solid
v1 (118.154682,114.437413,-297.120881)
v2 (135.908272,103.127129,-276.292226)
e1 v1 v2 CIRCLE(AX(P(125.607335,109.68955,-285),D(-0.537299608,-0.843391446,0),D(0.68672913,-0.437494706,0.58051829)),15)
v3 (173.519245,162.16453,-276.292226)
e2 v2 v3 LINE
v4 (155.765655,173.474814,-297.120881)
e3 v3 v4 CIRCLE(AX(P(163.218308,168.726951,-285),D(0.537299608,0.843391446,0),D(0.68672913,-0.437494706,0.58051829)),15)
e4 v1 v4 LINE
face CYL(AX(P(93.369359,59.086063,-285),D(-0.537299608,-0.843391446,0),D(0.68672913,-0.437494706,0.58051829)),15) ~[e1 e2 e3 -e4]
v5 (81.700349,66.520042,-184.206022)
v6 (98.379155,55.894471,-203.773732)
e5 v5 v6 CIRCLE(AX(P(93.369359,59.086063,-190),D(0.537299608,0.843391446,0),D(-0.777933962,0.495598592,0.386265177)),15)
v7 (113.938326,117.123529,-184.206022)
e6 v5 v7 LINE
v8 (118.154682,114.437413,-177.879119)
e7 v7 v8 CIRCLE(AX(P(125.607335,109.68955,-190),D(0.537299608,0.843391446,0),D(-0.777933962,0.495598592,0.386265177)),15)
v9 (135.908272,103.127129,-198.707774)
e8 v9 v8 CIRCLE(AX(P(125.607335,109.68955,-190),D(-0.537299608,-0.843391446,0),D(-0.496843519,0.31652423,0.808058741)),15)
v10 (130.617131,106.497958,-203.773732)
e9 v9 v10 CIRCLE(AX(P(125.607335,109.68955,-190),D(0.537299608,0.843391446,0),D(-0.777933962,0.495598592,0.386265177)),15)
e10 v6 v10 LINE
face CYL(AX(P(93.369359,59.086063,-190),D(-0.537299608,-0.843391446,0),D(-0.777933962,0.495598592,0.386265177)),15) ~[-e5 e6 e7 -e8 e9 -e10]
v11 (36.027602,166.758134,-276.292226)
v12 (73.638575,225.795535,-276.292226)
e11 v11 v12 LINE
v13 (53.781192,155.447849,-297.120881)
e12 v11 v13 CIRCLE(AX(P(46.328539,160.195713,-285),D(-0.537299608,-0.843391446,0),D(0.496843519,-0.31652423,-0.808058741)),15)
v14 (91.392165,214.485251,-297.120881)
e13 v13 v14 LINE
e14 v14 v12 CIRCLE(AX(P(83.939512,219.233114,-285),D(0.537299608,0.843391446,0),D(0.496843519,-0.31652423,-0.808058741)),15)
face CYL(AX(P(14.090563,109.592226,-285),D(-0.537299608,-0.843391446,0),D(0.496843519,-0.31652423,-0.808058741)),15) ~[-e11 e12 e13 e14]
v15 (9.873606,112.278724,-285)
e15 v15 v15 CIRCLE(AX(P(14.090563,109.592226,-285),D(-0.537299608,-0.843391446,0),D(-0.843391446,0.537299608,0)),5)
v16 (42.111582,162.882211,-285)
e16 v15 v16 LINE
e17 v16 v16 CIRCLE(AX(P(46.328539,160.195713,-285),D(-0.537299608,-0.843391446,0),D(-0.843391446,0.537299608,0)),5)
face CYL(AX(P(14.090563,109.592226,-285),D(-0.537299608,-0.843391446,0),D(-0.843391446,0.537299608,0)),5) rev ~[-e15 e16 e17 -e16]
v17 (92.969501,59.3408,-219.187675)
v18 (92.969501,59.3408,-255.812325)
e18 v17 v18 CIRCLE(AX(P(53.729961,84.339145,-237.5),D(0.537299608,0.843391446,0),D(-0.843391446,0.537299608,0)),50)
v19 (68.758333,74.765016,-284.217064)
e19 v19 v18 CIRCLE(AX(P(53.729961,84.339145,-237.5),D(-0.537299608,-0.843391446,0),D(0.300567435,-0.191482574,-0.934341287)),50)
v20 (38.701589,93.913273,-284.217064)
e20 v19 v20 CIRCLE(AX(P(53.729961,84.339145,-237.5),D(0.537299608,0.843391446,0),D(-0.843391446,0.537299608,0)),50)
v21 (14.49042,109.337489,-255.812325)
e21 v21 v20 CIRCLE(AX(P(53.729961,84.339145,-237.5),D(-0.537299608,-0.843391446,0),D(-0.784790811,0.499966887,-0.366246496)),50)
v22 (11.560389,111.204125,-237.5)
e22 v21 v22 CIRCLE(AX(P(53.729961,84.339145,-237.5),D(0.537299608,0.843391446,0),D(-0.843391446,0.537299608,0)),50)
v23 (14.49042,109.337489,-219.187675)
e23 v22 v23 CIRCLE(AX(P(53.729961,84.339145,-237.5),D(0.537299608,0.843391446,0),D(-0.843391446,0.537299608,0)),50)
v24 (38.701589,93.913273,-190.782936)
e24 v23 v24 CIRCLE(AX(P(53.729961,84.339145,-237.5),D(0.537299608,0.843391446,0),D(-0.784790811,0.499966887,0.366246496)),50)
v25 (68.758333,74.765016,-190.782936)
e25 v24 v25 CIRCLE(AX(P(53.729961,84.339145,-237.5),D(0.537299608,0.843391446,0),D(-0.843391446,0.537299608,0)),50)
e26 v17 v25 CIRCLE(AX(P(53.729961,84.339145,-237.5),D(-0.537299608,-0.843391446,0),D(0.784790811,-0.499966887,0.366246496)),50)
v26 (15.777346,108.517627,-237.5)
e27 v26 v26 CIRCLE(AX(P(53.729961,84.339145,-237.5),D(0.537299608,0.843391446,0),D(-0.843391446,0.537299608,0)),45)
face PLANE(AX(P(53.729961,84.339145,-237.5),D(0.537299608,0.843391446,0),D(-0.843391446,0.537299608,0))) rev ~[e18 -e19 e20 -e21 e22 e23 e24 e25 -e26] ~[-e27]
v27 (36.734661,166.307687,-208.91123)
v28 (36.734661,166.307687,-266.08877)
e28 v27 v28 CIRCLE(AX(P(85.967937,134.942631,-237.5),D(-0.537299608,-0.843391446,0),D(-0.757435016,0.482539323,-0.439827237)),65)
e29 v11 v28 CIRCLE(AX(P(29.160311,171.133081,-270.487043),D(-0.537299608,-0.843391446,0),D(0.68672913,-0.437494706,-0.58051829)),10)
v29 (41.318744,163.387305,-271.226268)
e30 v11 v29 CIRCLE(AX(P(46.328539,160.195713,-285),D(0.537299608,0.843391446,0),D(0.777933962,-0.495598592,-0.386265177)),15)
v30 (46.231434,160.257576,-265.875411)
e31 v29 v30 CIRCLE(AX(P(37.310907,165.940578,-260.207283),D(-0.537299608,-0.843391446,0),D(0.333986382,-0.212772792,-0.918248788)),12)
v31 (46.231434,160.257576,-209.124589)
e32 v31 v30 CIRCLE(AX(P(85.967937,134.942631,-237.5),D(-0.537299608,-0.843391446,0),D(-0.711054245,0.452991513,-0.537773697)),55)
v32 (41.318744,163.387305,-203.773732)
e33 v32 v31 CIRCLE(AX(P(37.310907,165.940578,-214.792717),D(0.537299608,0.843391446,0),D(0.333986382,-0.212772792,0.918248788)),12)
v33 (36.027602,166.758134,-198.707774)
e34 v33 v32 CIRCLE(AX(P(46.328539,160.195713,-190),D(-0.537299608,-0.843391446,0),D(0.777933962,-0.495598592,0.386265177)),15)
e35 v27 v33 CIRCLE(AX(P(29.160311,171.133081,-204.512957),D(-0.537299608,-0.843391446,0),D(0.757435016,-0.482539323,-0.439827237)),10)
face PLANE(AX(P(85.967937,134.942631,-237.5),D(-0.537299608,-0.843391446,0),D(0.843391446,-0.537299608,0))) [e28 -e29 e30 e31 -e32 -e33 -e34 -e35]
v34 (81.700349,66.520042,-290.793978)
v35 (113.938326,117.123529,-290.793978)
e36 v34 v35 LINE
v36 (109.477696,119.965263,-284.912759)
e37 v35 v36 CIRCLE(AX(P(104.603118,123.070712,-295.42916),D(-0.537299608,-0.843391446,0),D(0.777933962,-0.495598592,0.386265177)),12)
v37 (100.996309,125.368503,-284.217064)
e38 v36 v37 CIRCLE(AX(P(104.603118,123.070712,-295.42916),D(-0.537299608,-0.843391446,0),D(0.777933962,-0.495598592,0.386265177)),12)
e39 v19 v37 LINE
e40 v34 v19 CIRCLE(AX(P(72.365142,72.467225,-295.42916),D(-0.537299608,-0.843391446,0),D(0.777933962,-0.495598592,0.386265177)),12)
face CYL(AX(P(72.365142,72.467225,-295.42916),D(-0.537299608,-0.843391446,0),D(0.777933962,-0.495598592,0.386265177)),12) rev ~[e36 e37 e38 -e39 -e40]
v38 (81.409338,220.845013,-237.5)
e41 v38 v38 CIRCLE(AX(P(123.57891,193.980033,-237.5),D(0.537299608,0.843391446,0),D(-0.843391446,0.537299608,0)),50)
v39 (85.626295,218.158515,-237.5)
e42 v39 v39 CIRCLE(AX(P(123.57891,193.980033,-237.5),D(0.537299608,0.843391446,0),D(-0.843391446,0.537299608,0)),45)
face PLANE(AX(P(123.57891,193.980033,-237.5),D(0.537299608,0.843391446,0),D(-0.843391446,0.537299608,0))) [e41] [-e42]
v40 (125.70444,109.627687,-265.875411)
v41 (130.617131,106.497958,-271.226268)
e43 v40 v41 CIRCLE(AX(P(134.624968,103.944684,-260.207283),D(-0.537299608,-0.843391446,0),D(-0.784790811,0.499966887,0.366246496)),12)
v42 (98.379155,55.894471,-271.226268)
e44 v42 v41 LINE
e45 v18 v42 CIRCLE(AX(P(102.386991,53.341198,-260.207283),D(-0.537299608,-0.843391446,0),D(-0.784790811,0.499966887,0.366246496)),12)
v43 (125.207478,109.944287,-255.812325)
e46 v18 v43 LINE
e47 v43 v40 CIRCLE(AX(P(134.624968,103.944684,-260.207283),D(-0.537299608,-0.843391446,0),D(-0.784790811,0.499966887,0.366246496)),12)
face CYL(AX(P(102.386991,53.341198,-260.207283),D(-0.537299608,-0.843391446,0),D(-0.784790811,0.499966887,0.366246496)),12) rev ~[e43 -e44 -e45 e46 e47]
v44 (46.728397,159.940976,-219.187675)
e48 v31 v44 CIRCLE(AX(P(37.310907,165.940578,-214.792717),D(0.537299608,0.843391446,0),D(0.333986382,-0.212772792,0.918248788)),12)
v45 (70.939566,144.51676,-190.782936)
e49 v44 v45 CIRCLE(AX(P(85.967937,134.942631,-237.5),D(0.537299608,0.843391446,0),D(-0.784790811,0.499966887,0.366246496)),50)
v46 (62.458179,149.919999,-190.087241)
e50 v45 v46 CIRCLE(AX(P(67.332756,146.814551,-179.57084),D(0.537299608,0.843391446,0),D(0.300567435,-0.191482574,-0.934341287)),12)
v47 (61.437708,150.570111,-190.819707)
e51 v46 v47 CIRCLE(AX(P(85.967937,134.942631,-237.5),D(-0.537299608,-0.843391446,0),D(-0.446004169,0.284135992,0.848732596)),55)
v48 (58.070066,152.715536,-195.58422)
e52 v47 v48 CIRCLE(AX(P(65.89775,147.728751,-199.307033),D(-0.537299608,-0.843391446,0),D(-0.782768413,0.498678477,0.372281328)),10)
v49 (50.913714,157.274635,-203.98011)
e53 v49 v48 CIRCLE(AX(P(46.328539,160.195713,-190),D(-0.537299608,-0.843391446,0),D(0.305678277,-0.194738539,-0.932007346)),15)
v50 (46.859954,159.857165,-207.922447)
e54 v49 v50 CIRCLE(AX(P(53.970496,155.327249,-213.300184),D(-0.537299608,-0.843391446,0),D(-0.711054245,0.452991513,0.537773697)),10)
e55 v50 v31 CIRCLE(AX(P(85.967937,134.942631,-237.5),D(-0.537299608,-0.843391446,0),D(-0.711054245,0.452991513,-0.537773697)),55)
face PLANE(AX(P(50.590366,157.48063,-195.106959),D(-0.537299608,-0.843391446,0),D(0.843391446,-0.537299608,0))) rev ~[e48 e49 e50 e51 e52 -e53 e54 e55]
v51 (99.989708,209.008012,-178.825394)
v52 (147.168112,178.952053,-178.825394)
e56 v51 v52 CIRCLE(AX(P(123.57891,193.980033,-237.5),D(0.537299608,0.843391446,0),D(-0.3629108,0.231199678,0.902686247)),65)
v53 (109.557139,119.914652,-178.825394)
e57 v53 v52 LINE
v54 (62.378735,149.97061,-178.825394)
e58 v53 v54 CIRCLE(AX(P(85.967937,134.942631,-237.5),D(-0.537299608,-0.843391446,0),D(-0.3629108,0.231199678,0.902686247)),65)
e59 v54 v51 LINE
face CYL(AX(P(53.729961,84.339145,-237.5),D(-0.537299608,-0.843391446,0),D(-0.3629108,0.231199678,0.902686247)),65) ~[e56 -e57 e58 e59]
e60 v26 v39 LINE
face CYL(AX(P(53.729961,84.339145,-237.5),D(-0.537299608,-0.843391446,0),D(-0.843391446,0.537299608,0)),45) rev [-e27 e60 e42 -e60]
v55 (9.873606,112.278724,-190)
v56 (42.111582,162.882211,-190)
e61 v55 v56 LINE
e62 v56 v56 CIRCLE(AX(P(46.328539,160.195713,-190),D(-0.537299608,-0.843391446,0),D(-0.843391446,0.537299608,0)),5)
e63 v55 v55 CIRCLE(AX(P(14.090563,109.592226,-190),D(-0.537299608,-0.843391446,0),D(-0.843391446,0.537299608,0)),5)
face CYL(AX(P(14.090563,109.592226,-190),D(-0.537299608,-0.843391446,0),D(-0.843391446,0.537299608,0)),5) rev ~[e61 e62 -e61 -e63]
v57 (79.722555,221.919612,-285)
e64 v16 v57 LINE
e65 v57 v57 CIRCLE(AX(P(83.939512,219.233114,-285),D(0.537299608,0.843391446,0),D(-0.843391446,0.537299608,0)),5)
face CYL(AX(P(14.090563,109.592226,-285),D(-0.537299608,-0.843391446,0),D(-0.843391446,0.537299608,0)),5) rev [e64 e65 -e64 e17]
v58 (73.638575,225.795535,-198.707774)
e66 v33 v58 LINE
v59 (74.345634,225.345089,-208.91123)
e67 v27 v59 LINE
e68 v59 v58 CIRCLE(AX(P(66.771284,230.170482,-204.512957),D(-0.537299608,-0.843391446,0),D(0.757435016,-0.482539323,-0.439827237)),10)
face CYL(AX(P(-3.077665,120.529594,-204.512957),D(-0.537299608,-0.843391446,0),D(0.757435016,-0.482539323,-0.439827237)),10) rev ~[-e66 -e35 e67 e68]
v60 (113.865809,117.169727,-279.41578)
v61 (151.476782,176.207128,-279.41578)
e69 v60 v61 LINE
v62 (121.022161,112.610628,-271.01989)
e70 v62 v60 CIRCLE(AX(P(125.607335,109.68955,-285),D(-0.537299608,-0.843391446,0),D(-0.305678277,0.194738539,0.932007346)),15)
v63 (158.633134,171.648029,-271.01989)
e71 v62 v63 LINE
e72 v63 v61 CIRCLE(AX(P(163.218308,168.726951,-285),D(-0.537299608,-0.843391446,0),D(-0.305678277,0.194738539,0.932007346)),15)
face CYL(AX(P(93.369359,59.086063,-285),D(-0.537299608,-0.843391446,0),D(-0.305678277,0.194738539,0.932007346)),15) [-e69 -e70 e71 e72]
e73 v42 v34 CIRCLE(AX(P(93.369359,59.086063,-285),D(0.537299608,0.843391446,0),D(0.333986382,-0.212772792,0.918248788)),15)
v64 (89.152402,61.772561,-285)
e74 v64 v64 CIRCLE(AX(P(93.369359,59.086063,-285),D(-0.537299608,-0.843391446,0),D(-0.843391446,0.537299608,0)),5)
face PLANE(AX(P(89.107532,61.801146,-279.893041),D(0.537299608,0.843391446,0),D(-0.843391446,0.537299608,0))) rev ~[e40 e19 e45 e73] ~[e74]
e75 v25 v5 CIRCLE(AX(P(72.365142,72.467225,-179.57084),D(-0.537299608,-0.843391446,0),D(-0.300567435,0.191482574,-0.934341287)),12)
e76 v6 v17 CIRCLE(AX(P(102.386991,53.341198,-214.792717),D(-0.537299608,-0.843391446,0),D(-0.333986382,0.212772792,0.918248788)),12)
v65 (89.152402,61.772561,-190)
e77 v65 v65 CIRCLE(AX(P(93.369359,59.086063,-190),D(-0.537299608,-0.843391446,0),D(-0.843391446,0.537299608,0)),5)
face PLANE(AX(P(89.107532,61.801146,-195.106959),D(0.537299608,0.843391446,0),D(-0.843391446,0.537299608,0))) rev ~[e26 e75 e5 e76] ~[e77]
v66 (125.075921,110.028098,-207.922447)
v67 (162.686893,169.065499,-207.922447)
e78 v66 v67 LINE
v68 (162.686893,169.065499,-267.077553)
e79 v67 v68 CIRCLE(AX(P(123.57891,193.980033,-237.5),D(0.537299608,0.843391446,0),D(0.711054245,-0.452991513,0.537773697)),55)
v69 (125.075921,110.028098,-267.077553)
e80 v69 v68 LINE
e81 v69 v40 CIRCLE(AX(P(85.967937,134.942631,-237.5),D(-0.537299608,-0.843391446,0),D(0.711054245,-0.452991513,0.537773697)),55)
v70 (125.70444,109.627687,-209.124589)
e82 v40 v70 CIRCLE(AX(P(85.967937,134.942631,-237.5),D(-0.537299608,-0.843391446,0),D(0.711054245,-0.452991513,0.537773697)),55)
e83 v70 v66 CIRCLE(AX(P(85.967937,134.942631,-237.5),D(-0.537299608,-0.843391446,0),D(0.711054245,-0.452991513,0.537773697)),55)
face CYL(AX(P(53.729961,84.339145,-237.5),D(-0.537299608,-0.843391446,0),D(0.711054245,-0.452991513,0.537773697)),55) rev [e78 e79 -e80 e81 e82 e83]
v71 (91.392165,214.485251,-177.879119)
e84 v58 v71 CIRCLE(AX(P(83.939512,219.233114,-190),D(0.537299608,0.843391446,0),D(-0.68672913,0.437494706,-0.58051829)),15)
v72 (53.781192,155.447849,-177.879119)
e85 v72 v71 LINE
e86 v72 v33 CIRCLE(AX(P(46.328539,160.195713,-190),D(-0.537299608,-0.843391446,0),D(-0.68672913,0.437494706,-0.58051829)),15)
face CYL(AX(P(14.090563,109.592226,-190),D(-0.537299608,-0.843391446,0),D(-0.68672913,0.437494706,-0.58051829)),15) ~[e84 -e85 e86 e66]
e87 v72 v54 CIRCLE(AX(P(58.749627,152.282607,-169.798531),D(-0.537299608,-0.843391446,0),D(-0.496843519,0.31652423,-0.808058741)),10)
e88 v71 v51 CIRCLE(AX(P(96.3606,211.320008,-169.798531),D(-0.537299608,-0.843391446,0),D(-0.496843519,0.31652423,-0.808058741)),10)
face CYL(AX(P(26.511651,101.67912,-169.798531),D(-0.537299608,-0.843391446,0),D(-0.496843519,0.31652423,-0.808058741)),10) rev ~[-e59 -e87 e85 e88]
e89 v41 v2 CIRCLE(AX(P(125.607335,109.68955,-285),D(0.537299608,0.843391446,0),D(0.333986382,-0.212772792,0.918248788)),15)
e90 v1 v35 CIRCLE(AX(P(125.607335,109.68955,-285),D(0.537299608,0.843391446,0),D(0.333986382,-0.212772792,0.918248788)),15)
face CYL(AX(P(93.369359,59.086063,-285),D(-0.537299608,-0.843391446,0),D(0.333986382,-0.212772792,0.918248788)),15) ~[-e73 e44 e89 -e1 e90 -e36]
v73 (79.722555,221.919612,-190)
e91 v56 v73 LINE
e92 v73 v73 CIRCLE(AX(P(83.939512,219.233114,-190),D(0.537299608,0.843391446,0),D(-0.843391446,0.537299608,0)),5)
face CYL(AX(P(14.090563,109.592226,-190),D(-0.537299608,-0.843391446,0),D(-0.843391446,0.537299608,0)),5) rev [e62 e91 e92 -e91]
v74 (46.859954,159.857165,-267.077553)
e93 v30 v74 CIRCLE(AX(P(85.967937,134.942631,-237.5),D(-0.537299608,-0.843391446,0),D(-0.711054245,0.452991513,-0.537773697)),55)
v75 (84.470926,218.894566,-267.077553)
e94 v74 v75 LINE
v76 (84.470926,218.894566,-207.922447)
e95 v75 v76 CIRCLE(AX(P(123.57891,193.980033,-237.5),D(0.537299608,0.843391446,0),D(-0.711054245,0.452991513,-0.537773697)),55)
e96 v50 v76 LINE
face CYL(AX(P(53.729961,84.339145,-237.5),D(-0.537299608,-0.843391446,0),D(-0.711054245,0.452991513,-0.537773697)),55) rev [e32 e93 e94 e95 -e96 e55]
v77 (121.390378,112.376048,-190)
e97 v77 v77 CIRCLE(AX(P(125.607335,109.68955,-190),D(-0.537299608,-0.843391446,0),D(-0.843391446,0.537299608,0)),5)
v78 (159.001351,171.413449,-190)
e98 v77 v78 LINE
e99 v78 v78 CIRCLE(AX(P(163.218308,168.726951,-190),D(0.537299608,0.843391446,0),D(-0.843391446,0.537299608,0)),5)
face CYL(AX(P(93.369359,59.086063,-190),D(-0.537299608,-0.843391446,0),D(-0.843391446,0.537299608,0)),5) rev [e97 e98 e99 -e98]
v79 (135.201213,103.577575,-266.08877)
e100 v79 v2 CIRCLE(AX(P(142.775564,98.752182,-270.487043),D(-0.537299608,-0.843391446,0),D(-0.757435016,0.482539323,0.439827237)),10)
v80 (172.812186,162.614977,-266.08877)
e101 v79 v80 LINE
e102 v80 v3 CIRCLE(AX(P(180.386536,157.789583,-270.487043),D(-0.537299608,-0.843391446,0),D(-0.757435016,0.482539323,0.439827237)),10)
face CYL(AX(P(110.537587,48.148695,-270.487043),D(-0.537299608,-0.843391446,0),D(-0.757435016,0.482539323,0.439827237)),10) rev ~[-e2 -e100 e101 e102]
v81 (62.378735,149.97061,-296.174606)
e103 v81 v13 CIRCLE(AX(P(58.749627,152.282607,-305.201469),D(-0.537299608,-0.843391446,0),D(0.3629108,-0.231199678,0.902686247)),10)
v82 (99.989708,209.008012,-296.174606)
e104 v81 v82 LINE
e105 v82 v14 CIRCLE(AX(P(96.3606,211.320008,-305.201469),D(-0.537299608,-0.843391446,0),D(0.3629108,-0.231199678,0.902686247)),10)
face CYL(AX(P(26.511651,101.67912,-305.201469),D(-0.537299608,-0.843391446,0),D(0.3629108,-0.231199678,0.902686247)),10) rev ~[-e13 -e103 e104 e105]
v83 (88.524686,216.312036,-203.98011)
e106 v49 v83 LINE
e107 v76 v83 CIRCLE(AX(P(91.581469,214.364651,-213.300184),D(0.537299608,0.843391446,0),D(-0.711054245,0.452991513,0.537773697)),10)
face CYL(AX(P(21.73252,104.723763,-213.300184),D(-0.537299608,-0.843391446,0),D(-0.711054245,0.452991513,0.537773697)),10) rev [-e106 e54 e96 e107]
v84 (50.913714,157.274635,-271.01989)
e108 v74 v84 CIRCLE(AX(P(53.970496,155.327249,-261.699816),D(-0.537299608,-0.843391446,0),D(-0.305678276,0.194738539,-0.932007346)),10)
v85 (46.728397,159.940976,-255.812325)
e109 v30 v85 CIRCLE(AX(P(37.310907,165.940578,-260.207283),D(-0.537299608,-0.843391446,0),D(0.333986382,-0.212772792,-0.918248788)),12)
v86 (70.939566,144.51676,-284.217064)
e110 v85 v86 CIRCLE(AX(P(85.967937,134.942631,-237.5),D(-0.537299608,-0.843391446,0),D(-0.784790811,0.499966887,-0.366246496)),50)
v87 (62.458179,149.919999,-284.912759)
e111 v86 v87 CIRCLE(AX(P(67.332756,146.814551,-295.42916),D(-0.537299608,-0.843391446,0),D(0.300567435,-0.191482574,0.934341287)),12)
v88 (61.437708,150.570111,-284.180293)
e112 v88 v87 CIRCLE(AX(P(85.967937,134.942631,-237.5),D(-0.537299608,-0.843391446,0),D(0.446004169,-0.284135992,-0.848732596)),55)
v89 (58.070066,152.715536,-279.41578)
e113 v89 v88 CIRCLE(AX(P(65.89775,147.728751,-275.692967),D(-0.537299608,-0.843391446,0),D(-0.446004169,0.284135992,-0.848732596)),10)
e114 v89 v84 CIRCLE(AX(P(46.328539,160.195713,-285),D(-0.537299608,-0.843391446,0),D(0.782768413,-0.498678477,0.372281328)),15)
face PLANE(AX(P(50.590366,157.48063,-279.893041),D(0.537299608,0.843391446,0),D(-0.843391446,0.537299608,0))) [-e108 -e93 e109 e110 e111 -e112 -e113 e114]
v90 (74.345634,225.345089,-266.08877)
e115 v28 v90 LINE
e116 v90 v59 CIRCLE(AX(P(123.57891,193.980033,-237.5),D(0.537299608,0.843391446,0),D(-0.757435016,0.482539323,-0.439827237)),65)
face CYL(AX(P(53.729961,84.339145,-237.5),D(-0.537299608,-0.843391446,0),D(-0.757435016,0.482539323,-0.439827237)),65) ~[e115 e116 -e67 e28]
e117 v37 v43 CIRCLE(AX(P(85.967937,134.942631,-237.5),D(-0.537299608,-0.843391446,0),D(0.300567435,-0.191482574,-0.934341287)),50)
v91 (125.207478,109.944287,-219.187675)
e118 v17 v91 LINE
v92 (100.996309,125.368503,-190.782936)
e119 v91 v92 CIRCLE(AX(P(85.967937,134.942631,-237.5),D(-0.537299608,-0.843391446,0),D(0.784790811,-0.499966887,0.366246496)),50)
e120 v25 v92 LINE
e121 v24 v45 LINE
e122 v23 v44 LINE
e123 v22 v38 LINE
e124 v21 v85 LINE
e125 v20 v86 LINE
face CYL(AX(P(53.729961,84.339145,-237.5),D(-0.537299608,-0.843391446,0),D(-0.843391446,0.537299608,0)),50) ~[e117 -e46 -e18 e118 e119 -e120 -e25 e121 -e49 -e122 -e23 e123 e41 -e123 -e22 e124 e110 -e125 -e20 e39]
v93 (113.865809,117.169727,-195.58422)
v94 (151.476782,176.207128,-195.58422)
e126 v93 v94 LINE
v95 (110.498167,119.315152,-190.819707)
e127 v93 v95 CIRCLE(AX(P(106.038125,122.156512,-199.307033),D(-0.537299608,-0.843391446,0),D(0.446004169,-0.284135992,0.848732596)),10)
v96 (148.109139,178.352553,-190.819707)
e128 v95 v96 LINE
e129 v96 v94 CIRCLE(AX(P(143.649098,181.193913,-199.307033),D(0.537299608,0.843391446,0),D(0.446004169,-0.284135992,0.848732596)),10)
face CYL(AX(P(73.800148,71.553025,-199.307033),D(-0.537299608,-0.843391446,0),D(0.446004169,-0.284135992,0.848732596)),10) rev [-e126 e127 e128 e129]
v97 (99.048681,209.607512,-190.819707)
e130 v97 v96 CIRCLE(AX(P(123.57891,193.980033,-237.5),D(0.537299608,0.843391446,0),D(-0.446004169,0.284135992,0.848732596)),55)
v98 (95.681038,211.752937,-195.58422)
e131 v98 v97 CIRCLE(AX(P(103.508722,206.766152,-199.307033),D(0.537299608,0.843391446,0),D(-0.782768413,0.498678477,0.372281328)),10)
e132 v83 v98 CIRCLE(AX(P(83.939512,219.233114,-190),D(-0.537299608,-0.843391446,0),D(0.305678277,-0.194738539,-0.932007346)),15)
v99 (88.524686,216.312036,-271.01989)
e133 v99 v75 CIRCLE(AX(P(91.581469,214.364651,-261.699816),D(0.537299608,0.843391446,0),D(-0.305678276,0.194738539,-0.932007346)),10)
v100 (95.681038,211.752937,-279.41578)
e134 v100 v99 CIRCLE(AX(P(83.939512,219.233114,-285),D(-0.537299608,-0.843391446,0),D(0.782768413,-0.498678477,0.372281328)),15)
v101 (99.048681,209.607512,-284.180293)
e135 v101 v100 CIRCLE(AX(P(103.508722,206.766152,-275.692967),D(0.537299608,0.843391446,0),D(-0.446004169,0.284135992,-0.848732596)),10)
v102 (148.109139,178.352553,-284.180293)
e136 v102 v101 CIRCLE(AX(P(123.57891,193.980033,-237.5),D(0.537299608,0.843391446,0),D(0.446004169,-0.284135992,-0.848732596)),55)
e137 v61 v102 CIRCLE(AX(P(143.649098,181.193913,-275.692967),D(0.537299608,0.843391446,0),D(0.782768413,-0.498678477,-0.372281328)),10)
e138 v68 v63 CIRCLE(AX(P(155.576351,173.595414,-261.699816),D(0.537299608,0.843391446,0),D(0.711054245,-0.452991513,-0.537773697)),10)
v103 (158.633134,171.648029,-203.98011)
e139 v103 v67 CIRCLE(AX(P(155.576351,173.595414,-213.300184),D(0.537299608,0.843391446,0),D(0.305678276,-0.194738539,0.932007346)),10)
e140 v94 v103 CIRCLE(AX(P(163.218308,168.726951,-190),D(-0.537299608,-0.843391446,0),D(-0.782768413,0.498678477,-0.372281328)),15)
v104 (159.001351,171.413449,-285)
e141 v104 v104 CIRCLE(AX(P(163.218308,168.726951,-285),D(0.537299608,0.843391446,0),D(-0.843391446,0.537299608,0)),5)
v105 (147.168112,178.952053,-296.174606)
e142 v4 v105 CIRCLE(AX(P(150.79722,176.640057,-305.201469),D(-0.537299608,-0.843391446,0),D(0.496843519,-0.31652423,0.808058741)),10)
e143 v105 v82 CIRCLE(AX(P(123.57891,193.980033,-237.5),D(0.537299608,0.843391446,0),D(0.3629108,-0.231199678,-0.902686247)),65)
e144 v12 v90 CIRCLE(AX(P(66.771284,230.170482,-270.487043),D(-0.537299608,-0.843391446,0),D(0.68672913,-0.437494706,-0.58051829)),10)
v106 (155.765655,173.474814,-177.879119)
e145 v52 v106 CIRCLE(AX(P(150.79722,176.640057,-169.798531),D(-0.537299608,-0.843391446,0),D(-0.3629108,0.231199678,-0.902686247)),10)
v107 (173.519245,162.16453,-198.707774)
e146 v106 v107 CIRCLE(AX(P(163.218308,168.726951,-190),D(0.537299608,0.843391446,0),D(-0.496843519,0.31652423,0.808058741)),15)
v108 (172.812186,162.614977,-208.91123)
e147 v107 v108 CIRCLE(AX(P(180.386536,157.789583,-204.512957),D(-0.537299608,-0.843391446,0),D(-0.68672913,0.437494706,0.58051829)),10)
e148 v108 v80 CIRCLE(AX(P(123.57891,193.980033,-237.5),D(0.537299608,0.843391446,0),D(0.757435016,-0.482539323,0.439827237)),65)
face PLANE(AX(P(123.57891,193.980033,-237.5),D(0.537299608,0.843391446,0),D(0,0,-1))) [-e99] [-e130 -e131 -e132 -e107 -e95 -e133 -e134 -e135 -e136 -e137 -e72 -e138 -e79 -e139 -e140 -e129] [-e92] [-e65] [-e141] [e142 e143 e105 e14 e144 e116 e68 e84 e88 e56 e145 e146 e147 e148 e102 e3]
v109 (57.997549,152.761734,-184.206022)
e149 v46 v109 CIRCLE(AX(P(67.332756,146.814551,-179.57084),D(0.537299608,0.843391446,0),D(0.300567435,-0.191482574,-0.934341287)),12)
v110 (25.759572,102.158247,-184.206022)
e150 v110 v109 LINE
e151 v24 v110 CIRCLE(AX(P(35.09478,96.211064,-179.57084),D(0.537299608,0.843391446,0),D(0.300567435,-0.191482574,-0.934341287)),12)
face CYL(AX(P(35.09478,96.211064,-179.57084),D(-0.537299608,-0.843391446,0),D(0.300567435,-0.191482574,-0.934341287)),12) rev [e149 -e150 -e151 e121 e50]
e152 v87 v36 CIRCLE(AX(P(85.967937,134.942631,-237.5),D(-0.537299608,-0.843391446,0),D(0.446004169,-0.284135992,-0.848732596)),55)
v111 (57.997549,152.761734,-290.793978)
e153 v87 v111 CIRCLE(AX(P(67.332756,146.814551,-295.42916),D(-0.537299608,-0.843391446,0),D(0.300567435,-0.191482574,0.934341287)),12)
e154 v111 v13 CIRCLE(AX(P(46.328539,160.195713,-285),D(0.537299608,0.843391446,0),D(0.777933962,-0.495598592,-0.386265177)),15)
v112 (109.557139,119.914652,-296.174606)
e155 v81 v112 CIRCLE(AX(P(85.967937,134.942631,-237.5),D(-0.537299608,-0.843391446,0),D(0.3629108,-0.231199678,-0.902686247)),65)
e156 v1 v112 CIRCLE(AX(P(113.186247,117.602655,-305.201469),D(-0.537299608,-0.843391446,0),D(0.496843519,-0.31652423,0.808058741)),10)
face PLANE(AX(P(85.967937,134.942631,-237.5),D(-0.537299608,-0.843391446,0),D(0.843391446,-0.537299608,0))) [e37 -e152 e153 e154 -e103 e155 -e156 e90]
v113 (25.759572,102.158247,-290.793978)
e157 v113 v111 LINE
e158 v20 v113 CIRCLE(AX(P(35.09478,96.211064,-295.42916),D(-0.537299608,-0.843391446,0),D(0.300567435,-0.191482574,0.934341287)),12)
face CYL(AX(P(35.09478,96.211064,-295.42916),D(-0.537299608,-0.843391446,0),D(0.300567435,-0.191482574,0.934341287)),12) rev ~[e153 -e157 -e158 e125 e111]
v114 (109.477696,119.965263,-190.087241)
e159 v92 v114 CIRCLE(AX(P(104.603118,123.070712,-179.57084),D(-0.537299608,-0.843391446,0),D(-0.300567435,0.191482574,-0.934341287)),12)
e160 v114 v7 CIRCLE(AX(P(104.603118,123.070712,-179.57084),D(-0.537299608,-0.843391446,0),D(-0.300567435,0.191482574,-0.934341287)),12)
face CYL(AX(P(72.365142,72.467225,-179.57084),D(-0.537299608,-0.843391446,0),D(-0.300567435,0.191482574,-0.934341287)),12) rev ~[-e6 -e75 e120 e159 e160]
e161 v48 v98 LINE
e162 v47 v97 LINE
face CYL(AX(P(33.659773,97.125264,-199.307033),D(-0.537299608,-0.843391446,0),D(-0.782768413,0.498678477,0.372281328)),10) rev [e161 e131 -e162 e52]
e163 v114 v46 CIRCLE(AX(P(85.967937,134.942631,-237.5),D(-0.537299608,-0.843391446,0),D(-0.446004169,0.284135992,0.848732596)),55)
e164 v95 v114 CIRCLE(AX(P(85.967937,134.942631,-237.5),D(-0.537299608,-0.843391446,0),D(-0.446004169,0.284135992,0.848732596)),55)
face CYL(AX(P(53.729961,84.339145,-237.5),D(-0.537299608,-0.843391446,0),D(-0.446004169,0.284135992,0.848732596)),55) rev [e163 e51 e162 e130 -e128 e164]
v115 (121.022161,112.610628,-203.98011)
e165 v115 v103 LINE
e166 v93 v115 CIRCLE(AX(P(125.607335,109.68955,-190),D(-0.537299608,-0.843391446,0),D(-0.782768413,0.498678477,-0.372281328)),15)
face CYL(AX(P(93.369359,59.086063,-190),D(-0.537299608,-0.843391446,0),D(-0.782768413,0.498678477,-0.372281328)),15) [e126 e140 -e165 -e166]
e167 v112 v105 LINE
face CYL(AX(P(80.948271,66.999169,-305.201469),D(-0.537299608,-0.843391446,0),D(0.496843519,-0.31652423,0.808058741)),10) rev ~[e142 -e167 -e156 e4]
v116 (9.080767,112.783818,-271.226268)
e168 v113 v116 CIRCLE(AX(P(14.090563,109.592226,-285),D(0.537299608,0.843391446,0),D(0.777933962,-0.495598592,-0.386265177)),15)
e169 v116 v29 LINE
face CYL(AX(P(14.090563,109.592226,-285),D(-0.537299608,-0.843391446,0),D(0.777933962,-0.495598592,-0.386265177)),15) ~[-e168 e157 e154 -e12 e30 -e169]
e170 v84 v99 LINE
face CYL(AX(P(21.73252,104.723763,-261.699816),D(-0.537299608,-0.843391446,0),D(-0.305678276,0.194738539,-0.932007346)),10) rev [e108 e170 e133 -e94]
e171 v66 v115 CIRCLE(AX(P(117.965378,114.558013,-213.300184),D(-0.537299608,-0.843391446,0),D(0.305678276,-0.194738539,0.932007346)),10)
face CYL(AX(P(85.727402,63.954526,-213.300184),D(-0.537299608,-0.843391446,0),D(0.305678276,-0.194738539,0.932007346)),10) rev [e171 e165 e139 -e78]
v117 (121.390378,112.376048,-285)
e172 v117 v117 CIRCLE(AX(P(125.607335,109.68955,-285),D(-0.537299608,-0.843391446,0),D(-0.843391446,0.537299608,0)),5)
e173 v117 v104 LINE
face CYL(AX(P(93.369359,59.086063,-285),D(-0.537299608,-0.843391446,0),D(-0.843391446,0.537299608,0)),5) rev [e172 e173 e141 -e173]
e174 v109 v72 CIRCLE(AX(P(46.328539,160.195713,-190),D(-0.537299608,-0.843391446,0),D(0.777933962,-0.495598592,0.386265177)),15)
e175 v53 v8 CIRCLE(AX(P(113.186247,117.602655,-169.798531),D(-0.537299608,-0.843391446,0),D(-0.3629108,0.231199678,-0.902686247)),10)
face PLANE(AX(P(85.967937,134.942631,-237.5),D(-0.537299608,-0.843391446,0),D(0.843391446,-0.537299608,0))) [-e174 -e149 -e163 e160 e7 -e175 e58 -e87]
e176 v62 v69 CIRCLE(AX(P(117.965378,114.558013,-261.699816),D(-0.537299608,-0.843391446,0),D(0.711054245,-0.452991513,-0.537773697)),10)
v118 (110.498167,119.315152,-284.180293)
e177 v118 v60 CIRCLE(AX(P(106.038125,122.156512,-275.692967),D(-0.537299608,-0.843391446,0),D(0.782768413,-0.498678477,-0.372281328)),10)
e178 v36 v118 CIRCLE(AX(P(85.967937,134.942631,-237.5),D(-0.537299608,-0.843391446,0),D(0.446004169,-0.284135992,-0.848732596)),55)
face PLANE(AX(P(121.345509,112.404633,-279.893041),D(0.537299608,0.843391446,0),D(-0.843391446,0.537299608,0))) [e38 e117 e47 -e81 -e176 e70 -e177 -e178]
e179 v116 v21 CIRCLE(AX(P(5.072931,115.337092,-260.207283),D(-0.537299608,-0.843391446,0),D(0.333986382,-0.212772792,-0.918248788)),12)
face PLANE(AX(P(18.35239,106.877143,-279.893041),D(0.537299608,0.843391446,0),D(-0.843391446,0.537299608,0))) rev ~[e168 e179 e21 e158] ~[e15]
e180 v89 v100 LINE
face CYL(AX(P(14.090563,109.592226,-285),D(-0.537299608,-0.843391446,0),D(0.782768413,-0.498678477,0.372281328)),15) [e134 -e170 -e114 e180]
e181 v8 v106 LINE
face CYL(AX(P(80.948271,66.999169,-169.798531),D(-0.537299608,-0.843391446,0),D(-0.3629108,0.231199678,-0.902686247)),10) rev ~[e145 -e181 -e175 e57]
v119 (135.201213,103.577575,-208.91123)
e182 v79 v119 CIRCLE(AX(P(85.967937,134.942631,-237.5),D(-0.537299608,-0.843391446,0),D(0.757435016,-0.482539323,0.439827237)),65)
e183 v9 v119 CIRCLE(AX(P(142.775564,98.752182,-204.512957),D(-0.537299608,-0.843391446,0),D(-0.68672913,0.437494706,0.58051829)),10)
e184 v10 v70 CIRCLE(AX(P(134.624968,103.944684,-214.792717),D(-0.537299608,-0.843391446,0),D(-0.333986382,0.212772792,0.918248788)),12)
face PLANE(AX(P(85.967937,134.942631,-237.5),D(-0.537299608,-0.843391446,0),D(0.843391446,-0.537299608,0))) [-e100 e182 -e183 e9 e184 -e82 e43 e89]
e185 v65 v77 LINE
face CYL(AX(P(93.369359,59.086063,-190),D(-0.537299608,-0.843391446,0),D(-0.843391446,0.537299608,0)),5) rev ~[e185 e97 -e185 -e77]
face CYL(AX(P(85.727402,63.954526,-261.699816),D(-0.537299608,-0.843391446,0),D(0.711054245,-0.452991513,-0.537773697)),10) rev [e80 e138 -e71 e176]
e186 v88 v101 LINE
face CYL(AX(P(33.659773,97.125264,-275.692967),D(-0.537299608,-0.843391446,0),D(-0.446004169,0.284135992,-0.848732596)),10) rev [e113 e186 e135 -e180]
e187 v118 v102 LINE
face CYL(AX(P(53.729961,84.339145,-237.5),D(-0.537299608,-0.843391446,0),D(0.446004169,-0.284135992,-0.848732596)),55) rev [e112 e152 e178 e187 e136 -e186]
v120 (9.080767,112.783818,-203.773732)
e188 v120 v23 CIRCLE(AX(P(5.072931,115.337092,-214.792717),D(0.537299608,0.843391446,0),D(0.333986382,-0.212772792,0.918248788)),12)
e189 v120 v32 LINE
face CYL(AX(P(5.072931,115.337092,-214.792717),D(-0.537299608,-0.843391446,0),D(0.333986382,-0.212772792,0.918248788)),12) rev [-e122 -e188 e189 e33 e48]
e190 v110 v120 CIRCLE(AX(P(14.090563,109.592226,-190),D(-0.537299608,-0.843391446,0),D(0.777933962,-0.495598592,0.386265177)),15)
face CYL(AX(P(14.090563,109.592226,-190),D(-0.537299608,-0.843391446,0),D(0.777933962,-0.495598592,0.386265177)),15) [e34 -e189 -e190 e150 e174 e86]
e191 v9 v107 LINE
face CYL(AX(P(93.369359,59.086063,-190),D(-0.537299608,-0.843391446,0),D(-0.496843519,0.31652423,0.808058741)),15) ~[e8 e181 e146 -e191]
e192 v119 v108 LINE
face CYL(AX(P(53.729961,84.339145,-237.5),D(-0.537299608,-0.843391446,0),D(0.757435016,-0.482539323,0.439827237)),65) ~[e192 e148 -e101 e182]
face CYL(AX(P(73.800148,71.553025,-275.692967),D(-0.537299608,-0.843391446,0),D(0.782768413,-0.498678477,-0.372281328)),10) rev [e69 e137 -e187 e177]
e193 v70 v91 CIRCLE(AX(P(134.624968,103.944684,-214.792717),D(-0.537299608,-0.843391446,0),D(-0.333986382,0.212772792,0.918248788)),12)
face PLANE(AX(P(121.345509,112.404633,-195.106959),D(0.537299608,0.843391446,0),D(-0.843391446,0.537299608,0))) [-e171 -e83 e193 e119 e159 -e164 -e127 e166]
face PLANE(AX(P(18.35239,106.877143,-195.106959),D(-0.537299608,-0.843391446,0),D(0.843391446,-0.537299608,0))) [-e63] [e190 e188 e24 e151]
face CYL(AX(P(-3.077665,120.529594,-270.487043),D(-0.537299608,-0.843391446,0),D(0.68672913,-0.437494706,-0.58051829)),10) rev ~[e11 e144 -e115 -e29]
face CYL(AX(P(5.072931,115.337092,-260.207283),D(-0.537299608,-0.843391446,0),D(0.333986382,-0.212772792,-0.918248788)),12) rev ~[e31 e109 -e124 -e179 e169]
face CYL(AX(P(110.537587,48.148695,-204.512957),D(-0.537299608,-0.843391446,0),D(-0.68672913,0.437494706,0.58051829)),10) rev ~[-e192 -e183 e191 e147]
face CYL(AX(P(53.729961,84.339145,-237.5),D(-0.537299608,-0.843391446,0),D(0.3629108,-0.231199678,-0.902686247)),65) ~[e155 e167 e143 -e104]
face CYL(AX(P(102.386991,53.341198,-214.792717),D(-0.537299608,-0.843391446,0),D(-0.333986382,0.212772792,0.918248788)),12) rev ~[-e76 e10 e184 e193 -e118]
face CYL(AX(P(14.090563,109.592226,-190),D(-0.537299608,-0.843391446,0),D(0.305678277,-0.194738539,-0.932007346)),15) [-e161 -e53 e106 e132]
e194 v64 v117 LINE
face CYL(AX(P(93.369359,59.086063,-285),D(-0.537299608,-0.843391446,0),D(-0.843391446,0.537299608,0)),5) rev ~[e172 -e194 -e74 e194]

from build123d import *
from build123d.topology import SkipClean

# Parameters (mm, degrees)
BOSS_EXTRUDE1_START   = 100
SKETCH2_R             = 5
BOSS_EXTRUDE1_DEPTH   = 130
SKETCH2_R_2           = 50
SKETCH2_R_3           = 45
BOSS_EXTRUDE1_2_DEPTH = 130
SKETCH3_R             = 100
SKETCH3_R_2           = 50
CUT_EXTRUDE1_DEPTH    = 60
BOSS_EXTRUDE3_START   = 60
SKETCH4_R             = 5
BOSS_EXTRUDE3_DEPTH   = 60


with BuildPart() as part:
    # Sketch2 → Boss-Extrude1 (new body)
    with BuildSketch(Plane(origin=(0, 0, 0), x_dir=(0, 0, -1), z_dir=(0.5372996083468277, 0.8433914458128833, 0)).offset(BOSS_EXTRUDE1_START)):
        with BuildLine():
            ThreePointArc((198.707774346, 59.213708116), (179.337427943, 57.550334456), (177.879118885, 38.163471214))
            ThreePointArc((177.879118885, 38.163471214), (179.755724079, 33.196743881), (178.825393945, 27.96945842))
            ThreePointArc((178.825393945, 27.96945842), (172.5, 0), (178.825393945, -27.96945842))
            ThreePointArc((178.825393945, -27.96945842), (179.755724079, -33.196743881), (177.879118885, -38.163471214))
            ThreePointArc((177.879118885, -38.163471214), (179.337427943, -57.550334456), (198.707774346, -59.213708116))
            ThreePointArc((198.707774346, -59.213708116), (203.694081302, -57.389764479), (208.911229611, -58.375356167))
            ThreePointArc((208.911229611, -58.375356167), (237.5, -65), (266.088770389, -58.375356167))
            ThreePointArc((266.088770389, -58.375356167), (271.305918698, -57.389764479), (276.292225654, -59.213708116))
            ThreePointArc((276.292225654, -59.213708116), (295.662572057, -57.550334456), (297.120881115, -38.163471214))
            ThreePointArc((297.120881115, -38.163471214), (295.244275921, -33.196743881), (296.174606055, -27.96945842))
            ThreePointArc((296.174606055, -27.96945842), (302.5, 0), (296.174606055, 27.96945842))
            ThreePointArc((296.174606055, 27.96945842), (295.244275921, 33.196743881), (297.120881115, 38.163471214))
            ThreePointArc((297.120881115, 38.163471214), (295.662572057, 57.550334456), (276.292225654, 59.213708116))
            ThreePointArc((276.292225654, 59.213708116), (271.305918698, 57.389764479), (266.088770389, 58.375356167))
            ThreePointArc((266.088770389, 58.375356167), (237.5, 65), (208.911229611, 58.375356167))
            ThreePointArc((208.911229611, 58.375356167), (203.694081302, 57.389764479), (198.707774346, 59.213708116))
        make_face()
        with Locations(Location((190, -47, 0), (0, 0, 90))):
            Circle(SKETCH2_R, mode=Mode.SUBTRACT)
        with Locations(Location((285, -47, 0), (0, 0, 90))):
            Circle(SKETCH2_R, mode=Mode.SUBTRACT)
        with Locations(Location((190, 47, 0), (0, 0, 90))):
            Circle(SKETCH2_R, mode=Mode.SUBTRACT)
        with Locations(Location((285, 47, 0), (0, 0, 90))):
            Circle(SKETCH2_R, mode=Mode.SUBTRACT)
        with BuildLine():
            ThreePointArc((195.584219919, 33.078200982), (192.883806526, 31.461344995), (190.819707243, 29.085224223))
            ThreePointArc((190.819707243, 29.085224223), (182.5, 0), (190.819707243, -29.085224223))
            ThreePointArc((190.819707243, -29.085224223), (192.883806526, -31.461344995), (195.584219919, -33.078200982))
            ThreePointArc((195.584219919, -33.078200982), (200.662572057, -36.449665544), (203.980110186, -41.56340923))
            ThreePointArc((203.980110186, -41.56340923), (205.568300645, -44.280780541), (207.922446674, -46.369907691))
            ThreePointArc((207.922446674, -46.369907691), (237.5, -55), (267.077553326, -46.369907691))
            ThreePointArc((267.077553326, -46.369907691), (269.431699355, -44.280780541), (271.019889814, -41.56340923))
            ThreePointArc((271.019889814, -41.56340923), (274.337427943, -36.449665544), (279.415780081, -33.078200982))
            ThreePointArc((279.415780081, -33.078200982), (282.116193474, -31.461344995), (284.180292757, -29.085224223))
            ThreePointArc((284.180292757, -29.085224223), (292.5, 0), (284.180292757, 29.085224223))
            ThreePointArc((284.180292757, 29.085224223), (282.116193474, 31.461344995), (279.415780081, 33.078200982))
            ThreePointArc((279.415780081, 33.078200982), (274.337427943, 36.449665544), (271.019889814, 41.56340923))
            ThreePointArc((271.019889814, 41.56340923), (269.431699355, 44.280780541), (267.077553326, 46.369907691))
            ThreePointArc((267.077553326, 46.369907691), (237.5, 55), (207.922446674, 46.369907691))
            ThreePointArc((207.922446674, 46.369907691), (205.568300645, 44.280780541), (203.980110186, 41.56340923))
            ThreePointArc((203.980110186, 41.56340923), (200.662572057, 36.449665544), (195.584219919, 33.078200982))
        make_face(mode=Mode.SUBTRACT)
    extrude(amount=BOSS_EXTRUDE1_DEPTH)

    # Sketch3 → Cut-Extrude1 (cut)
    with BuildSketch(Plane(origin=(53.729960835, 84.339144581, 0), x_dir=(0.8433914458128833, -0.5372996083468277, 0), z_dir=(-0.5372996083468277, -0.8433914458128833, 0))):
        with Locations((0, -237.5)):
            Circle(SKETCH3_R)
        with Locations(Location((0, -237.5, 0), (0, 0, 180))):
            Circle(SKETCH3_R_2, mode=Mode.SUBTRACT)
    extrude(amount=-CUT_EXTRUDE1_DEPTH, mode=Mode.SUBTRACT)



with BuildPart() as body_2:
    # Sketch2 → Boss-Extrude1 2 (new body)
    with BuildSketch(Plane(origin=(0, 0, 0), x_dir=(0, 0, -1), z_dir=(0.5372996083468277, 0.8433914458128833, 0)).offset(BOSS_EXTRUDE1_START)):
        with Locations(Location((237.5, 0, 0), (0, 0, 90))):
            Circle(SKETCH2_R_2)
        with Locations(Location((237.5, 0, 0), (0, 0, 90))):
            Circle(SKETCH2_R_3, mode=Mode.SUBTRACT)
    extrude(amount=BOSS_EXTRUDE1_2_DEPTH)


with BuildPart() as part_1:
    with SkipClean():  # the faces are left unmerged after this step: merging them gives an invalid solid
        add(part.part)

        add(body_2.part)  # Boss-Extrude3 merges body 2
        # Sketch4 → Boss-Extrude3 (add)
        # profile 1 of 4: a face of its own
        with BuildSketch(Plane(origin=(85.967937335, 134.94263133, 0), x_dir=(0.8433914458128833, -0.5372996083468277, 0), z_dir=(-0.5372996083468277, -0.8433914458128833, 0)).offset(BOSS_EXTRUDE3_START)):
            with BuildLine():
                ThreePointArc((-33.164183333, -184.206022338), (-57.550334456, -179.337427943), (-52.940059929, -203.773731813))
                ThreePointArc((-52.940059929, -203.773731813), (-46.613065404, -210.182422478), (-46.525893445, -219.187675212))
                ThreePointArc((-46.525893445, -219.187675212), (-35.16778152, -201.958093144), (-17.818975805, -190.782935652))
                ThreePointArc((-17.818975805, -190.782935652), (-26.822801925, -190.600477562), (-33.164183333, -184.206022338))
            make_face()
            with Locations(Location((-47, -190, 0), (0, 0, 180))):
                Circle(SKETCH4_R, mode=Mode.SUBTRACT)
        # profile 2 of 4: a face of its own
        with BuildSketch(Plane(origin=(85.967937335, 134.94263133, 0), x_dir=(0.8433914458128833, -0.5372996083468277, 0), z_dir=(-0.5372996083468277, -0.8433914458128833, 0)).offset(BOSS_EXTRUDE3_START)):
            with BuildLine():
                ThreePointArc((17.818975805, -190.782935652), (26.822801925, -190.600477562), (33.164183333, -184.206022338))
                ThreePointArc((33.164183333, -184.206022338), (57.550334456, -179.337427943), (52.940059929, -203.773731813))
                ThreePointArc((52.940059929, -203.773731813), (46.613065404, -210.182422478), (46.525893445, -219.187675212))
                ThreePointArc((46.525893445, -219.187675212), (35.16778152, -201.958093144), (17.818975805, -190.782935652))
            make_face()
            with Locations(Location((47, -190, 0), (0, 0, 180))):
                Circle(SKETCH4_R, mode=Mode.SUBTRACT)
        # profile 3 of 4: a face of its own
        with BuildSketch(Plane(origin=(85.967937335, 134.94263133, 0), x_dir=(0.8433914458128833, -0.5372996083468277, 0), z_dir=(-0.5372996083468277, -0.8433914458128833, 0)).offset(BOSS_EXTRUDE3_START)):
            with BuildLine():
                ThreePointArc((17.818975805, -284.217064348), (35.16778152, -273.041906856), (46.525893445, -255.812324788))
                ThreePointArc((46.525893445, -255.812324788), (46.613065404, -264.817577522), (52.940059929, -271.226268187))
                ThreePointArc((52.940059929, -271.226268187), (57.550334456, -295.662572057), (33.164183333, -290.793977662))
                ThreePointArc((33.164183333, -290.793977662), (26.822801925, -284.399522438), (17.818975805, -284.217064348))
            make_face()
            with Locations(Location((47, -285, 0), (0, 0, 180))):
                Circle(SKETCH4_R, mode=Mode.SUBTRACT)
        # profile 4 of 4: a face of its own
        with BuildSketch(Plane(origin=(85.967937335, 134.94263133, 0), x_dir=(0.8433914458128833, -0.5372996083468277, 0), z_dir=(-0.5372996083468277, -0.8433914458128833, 0)).offset(BOSS_EXTRUDE3_START)):
            with BuildLine():
                ThreePointArc((-17.818975805, -284.217064348), (-26.822801925, -284.399522438), (-33.164183333, -290.793977662))
                ThreePointArc((-33.164183333, -290.793977662), (-57.550334456, -295.662572057), (-52.940059929, -271.226268187))
                ThreePointArc((-52.940059929, -271.226268187), (-46.613065404, -264.817577522), (-46.525893445, -255.812324788))
                ThreePointArc((-46.525893445, -255.812324788), (-35.16778152, -273.041906856), (-17.818975805, -284.217064348))
            make_face()
            with Locations(Location((-47, -285, 0), (0, 0, 180))):
                Circle(SKETCH4_R, mode=Mode.SUBTRACT)
        extrude(amount=-BOSS_EXTRUDE3_DEPTH)


solid = part_1.part
